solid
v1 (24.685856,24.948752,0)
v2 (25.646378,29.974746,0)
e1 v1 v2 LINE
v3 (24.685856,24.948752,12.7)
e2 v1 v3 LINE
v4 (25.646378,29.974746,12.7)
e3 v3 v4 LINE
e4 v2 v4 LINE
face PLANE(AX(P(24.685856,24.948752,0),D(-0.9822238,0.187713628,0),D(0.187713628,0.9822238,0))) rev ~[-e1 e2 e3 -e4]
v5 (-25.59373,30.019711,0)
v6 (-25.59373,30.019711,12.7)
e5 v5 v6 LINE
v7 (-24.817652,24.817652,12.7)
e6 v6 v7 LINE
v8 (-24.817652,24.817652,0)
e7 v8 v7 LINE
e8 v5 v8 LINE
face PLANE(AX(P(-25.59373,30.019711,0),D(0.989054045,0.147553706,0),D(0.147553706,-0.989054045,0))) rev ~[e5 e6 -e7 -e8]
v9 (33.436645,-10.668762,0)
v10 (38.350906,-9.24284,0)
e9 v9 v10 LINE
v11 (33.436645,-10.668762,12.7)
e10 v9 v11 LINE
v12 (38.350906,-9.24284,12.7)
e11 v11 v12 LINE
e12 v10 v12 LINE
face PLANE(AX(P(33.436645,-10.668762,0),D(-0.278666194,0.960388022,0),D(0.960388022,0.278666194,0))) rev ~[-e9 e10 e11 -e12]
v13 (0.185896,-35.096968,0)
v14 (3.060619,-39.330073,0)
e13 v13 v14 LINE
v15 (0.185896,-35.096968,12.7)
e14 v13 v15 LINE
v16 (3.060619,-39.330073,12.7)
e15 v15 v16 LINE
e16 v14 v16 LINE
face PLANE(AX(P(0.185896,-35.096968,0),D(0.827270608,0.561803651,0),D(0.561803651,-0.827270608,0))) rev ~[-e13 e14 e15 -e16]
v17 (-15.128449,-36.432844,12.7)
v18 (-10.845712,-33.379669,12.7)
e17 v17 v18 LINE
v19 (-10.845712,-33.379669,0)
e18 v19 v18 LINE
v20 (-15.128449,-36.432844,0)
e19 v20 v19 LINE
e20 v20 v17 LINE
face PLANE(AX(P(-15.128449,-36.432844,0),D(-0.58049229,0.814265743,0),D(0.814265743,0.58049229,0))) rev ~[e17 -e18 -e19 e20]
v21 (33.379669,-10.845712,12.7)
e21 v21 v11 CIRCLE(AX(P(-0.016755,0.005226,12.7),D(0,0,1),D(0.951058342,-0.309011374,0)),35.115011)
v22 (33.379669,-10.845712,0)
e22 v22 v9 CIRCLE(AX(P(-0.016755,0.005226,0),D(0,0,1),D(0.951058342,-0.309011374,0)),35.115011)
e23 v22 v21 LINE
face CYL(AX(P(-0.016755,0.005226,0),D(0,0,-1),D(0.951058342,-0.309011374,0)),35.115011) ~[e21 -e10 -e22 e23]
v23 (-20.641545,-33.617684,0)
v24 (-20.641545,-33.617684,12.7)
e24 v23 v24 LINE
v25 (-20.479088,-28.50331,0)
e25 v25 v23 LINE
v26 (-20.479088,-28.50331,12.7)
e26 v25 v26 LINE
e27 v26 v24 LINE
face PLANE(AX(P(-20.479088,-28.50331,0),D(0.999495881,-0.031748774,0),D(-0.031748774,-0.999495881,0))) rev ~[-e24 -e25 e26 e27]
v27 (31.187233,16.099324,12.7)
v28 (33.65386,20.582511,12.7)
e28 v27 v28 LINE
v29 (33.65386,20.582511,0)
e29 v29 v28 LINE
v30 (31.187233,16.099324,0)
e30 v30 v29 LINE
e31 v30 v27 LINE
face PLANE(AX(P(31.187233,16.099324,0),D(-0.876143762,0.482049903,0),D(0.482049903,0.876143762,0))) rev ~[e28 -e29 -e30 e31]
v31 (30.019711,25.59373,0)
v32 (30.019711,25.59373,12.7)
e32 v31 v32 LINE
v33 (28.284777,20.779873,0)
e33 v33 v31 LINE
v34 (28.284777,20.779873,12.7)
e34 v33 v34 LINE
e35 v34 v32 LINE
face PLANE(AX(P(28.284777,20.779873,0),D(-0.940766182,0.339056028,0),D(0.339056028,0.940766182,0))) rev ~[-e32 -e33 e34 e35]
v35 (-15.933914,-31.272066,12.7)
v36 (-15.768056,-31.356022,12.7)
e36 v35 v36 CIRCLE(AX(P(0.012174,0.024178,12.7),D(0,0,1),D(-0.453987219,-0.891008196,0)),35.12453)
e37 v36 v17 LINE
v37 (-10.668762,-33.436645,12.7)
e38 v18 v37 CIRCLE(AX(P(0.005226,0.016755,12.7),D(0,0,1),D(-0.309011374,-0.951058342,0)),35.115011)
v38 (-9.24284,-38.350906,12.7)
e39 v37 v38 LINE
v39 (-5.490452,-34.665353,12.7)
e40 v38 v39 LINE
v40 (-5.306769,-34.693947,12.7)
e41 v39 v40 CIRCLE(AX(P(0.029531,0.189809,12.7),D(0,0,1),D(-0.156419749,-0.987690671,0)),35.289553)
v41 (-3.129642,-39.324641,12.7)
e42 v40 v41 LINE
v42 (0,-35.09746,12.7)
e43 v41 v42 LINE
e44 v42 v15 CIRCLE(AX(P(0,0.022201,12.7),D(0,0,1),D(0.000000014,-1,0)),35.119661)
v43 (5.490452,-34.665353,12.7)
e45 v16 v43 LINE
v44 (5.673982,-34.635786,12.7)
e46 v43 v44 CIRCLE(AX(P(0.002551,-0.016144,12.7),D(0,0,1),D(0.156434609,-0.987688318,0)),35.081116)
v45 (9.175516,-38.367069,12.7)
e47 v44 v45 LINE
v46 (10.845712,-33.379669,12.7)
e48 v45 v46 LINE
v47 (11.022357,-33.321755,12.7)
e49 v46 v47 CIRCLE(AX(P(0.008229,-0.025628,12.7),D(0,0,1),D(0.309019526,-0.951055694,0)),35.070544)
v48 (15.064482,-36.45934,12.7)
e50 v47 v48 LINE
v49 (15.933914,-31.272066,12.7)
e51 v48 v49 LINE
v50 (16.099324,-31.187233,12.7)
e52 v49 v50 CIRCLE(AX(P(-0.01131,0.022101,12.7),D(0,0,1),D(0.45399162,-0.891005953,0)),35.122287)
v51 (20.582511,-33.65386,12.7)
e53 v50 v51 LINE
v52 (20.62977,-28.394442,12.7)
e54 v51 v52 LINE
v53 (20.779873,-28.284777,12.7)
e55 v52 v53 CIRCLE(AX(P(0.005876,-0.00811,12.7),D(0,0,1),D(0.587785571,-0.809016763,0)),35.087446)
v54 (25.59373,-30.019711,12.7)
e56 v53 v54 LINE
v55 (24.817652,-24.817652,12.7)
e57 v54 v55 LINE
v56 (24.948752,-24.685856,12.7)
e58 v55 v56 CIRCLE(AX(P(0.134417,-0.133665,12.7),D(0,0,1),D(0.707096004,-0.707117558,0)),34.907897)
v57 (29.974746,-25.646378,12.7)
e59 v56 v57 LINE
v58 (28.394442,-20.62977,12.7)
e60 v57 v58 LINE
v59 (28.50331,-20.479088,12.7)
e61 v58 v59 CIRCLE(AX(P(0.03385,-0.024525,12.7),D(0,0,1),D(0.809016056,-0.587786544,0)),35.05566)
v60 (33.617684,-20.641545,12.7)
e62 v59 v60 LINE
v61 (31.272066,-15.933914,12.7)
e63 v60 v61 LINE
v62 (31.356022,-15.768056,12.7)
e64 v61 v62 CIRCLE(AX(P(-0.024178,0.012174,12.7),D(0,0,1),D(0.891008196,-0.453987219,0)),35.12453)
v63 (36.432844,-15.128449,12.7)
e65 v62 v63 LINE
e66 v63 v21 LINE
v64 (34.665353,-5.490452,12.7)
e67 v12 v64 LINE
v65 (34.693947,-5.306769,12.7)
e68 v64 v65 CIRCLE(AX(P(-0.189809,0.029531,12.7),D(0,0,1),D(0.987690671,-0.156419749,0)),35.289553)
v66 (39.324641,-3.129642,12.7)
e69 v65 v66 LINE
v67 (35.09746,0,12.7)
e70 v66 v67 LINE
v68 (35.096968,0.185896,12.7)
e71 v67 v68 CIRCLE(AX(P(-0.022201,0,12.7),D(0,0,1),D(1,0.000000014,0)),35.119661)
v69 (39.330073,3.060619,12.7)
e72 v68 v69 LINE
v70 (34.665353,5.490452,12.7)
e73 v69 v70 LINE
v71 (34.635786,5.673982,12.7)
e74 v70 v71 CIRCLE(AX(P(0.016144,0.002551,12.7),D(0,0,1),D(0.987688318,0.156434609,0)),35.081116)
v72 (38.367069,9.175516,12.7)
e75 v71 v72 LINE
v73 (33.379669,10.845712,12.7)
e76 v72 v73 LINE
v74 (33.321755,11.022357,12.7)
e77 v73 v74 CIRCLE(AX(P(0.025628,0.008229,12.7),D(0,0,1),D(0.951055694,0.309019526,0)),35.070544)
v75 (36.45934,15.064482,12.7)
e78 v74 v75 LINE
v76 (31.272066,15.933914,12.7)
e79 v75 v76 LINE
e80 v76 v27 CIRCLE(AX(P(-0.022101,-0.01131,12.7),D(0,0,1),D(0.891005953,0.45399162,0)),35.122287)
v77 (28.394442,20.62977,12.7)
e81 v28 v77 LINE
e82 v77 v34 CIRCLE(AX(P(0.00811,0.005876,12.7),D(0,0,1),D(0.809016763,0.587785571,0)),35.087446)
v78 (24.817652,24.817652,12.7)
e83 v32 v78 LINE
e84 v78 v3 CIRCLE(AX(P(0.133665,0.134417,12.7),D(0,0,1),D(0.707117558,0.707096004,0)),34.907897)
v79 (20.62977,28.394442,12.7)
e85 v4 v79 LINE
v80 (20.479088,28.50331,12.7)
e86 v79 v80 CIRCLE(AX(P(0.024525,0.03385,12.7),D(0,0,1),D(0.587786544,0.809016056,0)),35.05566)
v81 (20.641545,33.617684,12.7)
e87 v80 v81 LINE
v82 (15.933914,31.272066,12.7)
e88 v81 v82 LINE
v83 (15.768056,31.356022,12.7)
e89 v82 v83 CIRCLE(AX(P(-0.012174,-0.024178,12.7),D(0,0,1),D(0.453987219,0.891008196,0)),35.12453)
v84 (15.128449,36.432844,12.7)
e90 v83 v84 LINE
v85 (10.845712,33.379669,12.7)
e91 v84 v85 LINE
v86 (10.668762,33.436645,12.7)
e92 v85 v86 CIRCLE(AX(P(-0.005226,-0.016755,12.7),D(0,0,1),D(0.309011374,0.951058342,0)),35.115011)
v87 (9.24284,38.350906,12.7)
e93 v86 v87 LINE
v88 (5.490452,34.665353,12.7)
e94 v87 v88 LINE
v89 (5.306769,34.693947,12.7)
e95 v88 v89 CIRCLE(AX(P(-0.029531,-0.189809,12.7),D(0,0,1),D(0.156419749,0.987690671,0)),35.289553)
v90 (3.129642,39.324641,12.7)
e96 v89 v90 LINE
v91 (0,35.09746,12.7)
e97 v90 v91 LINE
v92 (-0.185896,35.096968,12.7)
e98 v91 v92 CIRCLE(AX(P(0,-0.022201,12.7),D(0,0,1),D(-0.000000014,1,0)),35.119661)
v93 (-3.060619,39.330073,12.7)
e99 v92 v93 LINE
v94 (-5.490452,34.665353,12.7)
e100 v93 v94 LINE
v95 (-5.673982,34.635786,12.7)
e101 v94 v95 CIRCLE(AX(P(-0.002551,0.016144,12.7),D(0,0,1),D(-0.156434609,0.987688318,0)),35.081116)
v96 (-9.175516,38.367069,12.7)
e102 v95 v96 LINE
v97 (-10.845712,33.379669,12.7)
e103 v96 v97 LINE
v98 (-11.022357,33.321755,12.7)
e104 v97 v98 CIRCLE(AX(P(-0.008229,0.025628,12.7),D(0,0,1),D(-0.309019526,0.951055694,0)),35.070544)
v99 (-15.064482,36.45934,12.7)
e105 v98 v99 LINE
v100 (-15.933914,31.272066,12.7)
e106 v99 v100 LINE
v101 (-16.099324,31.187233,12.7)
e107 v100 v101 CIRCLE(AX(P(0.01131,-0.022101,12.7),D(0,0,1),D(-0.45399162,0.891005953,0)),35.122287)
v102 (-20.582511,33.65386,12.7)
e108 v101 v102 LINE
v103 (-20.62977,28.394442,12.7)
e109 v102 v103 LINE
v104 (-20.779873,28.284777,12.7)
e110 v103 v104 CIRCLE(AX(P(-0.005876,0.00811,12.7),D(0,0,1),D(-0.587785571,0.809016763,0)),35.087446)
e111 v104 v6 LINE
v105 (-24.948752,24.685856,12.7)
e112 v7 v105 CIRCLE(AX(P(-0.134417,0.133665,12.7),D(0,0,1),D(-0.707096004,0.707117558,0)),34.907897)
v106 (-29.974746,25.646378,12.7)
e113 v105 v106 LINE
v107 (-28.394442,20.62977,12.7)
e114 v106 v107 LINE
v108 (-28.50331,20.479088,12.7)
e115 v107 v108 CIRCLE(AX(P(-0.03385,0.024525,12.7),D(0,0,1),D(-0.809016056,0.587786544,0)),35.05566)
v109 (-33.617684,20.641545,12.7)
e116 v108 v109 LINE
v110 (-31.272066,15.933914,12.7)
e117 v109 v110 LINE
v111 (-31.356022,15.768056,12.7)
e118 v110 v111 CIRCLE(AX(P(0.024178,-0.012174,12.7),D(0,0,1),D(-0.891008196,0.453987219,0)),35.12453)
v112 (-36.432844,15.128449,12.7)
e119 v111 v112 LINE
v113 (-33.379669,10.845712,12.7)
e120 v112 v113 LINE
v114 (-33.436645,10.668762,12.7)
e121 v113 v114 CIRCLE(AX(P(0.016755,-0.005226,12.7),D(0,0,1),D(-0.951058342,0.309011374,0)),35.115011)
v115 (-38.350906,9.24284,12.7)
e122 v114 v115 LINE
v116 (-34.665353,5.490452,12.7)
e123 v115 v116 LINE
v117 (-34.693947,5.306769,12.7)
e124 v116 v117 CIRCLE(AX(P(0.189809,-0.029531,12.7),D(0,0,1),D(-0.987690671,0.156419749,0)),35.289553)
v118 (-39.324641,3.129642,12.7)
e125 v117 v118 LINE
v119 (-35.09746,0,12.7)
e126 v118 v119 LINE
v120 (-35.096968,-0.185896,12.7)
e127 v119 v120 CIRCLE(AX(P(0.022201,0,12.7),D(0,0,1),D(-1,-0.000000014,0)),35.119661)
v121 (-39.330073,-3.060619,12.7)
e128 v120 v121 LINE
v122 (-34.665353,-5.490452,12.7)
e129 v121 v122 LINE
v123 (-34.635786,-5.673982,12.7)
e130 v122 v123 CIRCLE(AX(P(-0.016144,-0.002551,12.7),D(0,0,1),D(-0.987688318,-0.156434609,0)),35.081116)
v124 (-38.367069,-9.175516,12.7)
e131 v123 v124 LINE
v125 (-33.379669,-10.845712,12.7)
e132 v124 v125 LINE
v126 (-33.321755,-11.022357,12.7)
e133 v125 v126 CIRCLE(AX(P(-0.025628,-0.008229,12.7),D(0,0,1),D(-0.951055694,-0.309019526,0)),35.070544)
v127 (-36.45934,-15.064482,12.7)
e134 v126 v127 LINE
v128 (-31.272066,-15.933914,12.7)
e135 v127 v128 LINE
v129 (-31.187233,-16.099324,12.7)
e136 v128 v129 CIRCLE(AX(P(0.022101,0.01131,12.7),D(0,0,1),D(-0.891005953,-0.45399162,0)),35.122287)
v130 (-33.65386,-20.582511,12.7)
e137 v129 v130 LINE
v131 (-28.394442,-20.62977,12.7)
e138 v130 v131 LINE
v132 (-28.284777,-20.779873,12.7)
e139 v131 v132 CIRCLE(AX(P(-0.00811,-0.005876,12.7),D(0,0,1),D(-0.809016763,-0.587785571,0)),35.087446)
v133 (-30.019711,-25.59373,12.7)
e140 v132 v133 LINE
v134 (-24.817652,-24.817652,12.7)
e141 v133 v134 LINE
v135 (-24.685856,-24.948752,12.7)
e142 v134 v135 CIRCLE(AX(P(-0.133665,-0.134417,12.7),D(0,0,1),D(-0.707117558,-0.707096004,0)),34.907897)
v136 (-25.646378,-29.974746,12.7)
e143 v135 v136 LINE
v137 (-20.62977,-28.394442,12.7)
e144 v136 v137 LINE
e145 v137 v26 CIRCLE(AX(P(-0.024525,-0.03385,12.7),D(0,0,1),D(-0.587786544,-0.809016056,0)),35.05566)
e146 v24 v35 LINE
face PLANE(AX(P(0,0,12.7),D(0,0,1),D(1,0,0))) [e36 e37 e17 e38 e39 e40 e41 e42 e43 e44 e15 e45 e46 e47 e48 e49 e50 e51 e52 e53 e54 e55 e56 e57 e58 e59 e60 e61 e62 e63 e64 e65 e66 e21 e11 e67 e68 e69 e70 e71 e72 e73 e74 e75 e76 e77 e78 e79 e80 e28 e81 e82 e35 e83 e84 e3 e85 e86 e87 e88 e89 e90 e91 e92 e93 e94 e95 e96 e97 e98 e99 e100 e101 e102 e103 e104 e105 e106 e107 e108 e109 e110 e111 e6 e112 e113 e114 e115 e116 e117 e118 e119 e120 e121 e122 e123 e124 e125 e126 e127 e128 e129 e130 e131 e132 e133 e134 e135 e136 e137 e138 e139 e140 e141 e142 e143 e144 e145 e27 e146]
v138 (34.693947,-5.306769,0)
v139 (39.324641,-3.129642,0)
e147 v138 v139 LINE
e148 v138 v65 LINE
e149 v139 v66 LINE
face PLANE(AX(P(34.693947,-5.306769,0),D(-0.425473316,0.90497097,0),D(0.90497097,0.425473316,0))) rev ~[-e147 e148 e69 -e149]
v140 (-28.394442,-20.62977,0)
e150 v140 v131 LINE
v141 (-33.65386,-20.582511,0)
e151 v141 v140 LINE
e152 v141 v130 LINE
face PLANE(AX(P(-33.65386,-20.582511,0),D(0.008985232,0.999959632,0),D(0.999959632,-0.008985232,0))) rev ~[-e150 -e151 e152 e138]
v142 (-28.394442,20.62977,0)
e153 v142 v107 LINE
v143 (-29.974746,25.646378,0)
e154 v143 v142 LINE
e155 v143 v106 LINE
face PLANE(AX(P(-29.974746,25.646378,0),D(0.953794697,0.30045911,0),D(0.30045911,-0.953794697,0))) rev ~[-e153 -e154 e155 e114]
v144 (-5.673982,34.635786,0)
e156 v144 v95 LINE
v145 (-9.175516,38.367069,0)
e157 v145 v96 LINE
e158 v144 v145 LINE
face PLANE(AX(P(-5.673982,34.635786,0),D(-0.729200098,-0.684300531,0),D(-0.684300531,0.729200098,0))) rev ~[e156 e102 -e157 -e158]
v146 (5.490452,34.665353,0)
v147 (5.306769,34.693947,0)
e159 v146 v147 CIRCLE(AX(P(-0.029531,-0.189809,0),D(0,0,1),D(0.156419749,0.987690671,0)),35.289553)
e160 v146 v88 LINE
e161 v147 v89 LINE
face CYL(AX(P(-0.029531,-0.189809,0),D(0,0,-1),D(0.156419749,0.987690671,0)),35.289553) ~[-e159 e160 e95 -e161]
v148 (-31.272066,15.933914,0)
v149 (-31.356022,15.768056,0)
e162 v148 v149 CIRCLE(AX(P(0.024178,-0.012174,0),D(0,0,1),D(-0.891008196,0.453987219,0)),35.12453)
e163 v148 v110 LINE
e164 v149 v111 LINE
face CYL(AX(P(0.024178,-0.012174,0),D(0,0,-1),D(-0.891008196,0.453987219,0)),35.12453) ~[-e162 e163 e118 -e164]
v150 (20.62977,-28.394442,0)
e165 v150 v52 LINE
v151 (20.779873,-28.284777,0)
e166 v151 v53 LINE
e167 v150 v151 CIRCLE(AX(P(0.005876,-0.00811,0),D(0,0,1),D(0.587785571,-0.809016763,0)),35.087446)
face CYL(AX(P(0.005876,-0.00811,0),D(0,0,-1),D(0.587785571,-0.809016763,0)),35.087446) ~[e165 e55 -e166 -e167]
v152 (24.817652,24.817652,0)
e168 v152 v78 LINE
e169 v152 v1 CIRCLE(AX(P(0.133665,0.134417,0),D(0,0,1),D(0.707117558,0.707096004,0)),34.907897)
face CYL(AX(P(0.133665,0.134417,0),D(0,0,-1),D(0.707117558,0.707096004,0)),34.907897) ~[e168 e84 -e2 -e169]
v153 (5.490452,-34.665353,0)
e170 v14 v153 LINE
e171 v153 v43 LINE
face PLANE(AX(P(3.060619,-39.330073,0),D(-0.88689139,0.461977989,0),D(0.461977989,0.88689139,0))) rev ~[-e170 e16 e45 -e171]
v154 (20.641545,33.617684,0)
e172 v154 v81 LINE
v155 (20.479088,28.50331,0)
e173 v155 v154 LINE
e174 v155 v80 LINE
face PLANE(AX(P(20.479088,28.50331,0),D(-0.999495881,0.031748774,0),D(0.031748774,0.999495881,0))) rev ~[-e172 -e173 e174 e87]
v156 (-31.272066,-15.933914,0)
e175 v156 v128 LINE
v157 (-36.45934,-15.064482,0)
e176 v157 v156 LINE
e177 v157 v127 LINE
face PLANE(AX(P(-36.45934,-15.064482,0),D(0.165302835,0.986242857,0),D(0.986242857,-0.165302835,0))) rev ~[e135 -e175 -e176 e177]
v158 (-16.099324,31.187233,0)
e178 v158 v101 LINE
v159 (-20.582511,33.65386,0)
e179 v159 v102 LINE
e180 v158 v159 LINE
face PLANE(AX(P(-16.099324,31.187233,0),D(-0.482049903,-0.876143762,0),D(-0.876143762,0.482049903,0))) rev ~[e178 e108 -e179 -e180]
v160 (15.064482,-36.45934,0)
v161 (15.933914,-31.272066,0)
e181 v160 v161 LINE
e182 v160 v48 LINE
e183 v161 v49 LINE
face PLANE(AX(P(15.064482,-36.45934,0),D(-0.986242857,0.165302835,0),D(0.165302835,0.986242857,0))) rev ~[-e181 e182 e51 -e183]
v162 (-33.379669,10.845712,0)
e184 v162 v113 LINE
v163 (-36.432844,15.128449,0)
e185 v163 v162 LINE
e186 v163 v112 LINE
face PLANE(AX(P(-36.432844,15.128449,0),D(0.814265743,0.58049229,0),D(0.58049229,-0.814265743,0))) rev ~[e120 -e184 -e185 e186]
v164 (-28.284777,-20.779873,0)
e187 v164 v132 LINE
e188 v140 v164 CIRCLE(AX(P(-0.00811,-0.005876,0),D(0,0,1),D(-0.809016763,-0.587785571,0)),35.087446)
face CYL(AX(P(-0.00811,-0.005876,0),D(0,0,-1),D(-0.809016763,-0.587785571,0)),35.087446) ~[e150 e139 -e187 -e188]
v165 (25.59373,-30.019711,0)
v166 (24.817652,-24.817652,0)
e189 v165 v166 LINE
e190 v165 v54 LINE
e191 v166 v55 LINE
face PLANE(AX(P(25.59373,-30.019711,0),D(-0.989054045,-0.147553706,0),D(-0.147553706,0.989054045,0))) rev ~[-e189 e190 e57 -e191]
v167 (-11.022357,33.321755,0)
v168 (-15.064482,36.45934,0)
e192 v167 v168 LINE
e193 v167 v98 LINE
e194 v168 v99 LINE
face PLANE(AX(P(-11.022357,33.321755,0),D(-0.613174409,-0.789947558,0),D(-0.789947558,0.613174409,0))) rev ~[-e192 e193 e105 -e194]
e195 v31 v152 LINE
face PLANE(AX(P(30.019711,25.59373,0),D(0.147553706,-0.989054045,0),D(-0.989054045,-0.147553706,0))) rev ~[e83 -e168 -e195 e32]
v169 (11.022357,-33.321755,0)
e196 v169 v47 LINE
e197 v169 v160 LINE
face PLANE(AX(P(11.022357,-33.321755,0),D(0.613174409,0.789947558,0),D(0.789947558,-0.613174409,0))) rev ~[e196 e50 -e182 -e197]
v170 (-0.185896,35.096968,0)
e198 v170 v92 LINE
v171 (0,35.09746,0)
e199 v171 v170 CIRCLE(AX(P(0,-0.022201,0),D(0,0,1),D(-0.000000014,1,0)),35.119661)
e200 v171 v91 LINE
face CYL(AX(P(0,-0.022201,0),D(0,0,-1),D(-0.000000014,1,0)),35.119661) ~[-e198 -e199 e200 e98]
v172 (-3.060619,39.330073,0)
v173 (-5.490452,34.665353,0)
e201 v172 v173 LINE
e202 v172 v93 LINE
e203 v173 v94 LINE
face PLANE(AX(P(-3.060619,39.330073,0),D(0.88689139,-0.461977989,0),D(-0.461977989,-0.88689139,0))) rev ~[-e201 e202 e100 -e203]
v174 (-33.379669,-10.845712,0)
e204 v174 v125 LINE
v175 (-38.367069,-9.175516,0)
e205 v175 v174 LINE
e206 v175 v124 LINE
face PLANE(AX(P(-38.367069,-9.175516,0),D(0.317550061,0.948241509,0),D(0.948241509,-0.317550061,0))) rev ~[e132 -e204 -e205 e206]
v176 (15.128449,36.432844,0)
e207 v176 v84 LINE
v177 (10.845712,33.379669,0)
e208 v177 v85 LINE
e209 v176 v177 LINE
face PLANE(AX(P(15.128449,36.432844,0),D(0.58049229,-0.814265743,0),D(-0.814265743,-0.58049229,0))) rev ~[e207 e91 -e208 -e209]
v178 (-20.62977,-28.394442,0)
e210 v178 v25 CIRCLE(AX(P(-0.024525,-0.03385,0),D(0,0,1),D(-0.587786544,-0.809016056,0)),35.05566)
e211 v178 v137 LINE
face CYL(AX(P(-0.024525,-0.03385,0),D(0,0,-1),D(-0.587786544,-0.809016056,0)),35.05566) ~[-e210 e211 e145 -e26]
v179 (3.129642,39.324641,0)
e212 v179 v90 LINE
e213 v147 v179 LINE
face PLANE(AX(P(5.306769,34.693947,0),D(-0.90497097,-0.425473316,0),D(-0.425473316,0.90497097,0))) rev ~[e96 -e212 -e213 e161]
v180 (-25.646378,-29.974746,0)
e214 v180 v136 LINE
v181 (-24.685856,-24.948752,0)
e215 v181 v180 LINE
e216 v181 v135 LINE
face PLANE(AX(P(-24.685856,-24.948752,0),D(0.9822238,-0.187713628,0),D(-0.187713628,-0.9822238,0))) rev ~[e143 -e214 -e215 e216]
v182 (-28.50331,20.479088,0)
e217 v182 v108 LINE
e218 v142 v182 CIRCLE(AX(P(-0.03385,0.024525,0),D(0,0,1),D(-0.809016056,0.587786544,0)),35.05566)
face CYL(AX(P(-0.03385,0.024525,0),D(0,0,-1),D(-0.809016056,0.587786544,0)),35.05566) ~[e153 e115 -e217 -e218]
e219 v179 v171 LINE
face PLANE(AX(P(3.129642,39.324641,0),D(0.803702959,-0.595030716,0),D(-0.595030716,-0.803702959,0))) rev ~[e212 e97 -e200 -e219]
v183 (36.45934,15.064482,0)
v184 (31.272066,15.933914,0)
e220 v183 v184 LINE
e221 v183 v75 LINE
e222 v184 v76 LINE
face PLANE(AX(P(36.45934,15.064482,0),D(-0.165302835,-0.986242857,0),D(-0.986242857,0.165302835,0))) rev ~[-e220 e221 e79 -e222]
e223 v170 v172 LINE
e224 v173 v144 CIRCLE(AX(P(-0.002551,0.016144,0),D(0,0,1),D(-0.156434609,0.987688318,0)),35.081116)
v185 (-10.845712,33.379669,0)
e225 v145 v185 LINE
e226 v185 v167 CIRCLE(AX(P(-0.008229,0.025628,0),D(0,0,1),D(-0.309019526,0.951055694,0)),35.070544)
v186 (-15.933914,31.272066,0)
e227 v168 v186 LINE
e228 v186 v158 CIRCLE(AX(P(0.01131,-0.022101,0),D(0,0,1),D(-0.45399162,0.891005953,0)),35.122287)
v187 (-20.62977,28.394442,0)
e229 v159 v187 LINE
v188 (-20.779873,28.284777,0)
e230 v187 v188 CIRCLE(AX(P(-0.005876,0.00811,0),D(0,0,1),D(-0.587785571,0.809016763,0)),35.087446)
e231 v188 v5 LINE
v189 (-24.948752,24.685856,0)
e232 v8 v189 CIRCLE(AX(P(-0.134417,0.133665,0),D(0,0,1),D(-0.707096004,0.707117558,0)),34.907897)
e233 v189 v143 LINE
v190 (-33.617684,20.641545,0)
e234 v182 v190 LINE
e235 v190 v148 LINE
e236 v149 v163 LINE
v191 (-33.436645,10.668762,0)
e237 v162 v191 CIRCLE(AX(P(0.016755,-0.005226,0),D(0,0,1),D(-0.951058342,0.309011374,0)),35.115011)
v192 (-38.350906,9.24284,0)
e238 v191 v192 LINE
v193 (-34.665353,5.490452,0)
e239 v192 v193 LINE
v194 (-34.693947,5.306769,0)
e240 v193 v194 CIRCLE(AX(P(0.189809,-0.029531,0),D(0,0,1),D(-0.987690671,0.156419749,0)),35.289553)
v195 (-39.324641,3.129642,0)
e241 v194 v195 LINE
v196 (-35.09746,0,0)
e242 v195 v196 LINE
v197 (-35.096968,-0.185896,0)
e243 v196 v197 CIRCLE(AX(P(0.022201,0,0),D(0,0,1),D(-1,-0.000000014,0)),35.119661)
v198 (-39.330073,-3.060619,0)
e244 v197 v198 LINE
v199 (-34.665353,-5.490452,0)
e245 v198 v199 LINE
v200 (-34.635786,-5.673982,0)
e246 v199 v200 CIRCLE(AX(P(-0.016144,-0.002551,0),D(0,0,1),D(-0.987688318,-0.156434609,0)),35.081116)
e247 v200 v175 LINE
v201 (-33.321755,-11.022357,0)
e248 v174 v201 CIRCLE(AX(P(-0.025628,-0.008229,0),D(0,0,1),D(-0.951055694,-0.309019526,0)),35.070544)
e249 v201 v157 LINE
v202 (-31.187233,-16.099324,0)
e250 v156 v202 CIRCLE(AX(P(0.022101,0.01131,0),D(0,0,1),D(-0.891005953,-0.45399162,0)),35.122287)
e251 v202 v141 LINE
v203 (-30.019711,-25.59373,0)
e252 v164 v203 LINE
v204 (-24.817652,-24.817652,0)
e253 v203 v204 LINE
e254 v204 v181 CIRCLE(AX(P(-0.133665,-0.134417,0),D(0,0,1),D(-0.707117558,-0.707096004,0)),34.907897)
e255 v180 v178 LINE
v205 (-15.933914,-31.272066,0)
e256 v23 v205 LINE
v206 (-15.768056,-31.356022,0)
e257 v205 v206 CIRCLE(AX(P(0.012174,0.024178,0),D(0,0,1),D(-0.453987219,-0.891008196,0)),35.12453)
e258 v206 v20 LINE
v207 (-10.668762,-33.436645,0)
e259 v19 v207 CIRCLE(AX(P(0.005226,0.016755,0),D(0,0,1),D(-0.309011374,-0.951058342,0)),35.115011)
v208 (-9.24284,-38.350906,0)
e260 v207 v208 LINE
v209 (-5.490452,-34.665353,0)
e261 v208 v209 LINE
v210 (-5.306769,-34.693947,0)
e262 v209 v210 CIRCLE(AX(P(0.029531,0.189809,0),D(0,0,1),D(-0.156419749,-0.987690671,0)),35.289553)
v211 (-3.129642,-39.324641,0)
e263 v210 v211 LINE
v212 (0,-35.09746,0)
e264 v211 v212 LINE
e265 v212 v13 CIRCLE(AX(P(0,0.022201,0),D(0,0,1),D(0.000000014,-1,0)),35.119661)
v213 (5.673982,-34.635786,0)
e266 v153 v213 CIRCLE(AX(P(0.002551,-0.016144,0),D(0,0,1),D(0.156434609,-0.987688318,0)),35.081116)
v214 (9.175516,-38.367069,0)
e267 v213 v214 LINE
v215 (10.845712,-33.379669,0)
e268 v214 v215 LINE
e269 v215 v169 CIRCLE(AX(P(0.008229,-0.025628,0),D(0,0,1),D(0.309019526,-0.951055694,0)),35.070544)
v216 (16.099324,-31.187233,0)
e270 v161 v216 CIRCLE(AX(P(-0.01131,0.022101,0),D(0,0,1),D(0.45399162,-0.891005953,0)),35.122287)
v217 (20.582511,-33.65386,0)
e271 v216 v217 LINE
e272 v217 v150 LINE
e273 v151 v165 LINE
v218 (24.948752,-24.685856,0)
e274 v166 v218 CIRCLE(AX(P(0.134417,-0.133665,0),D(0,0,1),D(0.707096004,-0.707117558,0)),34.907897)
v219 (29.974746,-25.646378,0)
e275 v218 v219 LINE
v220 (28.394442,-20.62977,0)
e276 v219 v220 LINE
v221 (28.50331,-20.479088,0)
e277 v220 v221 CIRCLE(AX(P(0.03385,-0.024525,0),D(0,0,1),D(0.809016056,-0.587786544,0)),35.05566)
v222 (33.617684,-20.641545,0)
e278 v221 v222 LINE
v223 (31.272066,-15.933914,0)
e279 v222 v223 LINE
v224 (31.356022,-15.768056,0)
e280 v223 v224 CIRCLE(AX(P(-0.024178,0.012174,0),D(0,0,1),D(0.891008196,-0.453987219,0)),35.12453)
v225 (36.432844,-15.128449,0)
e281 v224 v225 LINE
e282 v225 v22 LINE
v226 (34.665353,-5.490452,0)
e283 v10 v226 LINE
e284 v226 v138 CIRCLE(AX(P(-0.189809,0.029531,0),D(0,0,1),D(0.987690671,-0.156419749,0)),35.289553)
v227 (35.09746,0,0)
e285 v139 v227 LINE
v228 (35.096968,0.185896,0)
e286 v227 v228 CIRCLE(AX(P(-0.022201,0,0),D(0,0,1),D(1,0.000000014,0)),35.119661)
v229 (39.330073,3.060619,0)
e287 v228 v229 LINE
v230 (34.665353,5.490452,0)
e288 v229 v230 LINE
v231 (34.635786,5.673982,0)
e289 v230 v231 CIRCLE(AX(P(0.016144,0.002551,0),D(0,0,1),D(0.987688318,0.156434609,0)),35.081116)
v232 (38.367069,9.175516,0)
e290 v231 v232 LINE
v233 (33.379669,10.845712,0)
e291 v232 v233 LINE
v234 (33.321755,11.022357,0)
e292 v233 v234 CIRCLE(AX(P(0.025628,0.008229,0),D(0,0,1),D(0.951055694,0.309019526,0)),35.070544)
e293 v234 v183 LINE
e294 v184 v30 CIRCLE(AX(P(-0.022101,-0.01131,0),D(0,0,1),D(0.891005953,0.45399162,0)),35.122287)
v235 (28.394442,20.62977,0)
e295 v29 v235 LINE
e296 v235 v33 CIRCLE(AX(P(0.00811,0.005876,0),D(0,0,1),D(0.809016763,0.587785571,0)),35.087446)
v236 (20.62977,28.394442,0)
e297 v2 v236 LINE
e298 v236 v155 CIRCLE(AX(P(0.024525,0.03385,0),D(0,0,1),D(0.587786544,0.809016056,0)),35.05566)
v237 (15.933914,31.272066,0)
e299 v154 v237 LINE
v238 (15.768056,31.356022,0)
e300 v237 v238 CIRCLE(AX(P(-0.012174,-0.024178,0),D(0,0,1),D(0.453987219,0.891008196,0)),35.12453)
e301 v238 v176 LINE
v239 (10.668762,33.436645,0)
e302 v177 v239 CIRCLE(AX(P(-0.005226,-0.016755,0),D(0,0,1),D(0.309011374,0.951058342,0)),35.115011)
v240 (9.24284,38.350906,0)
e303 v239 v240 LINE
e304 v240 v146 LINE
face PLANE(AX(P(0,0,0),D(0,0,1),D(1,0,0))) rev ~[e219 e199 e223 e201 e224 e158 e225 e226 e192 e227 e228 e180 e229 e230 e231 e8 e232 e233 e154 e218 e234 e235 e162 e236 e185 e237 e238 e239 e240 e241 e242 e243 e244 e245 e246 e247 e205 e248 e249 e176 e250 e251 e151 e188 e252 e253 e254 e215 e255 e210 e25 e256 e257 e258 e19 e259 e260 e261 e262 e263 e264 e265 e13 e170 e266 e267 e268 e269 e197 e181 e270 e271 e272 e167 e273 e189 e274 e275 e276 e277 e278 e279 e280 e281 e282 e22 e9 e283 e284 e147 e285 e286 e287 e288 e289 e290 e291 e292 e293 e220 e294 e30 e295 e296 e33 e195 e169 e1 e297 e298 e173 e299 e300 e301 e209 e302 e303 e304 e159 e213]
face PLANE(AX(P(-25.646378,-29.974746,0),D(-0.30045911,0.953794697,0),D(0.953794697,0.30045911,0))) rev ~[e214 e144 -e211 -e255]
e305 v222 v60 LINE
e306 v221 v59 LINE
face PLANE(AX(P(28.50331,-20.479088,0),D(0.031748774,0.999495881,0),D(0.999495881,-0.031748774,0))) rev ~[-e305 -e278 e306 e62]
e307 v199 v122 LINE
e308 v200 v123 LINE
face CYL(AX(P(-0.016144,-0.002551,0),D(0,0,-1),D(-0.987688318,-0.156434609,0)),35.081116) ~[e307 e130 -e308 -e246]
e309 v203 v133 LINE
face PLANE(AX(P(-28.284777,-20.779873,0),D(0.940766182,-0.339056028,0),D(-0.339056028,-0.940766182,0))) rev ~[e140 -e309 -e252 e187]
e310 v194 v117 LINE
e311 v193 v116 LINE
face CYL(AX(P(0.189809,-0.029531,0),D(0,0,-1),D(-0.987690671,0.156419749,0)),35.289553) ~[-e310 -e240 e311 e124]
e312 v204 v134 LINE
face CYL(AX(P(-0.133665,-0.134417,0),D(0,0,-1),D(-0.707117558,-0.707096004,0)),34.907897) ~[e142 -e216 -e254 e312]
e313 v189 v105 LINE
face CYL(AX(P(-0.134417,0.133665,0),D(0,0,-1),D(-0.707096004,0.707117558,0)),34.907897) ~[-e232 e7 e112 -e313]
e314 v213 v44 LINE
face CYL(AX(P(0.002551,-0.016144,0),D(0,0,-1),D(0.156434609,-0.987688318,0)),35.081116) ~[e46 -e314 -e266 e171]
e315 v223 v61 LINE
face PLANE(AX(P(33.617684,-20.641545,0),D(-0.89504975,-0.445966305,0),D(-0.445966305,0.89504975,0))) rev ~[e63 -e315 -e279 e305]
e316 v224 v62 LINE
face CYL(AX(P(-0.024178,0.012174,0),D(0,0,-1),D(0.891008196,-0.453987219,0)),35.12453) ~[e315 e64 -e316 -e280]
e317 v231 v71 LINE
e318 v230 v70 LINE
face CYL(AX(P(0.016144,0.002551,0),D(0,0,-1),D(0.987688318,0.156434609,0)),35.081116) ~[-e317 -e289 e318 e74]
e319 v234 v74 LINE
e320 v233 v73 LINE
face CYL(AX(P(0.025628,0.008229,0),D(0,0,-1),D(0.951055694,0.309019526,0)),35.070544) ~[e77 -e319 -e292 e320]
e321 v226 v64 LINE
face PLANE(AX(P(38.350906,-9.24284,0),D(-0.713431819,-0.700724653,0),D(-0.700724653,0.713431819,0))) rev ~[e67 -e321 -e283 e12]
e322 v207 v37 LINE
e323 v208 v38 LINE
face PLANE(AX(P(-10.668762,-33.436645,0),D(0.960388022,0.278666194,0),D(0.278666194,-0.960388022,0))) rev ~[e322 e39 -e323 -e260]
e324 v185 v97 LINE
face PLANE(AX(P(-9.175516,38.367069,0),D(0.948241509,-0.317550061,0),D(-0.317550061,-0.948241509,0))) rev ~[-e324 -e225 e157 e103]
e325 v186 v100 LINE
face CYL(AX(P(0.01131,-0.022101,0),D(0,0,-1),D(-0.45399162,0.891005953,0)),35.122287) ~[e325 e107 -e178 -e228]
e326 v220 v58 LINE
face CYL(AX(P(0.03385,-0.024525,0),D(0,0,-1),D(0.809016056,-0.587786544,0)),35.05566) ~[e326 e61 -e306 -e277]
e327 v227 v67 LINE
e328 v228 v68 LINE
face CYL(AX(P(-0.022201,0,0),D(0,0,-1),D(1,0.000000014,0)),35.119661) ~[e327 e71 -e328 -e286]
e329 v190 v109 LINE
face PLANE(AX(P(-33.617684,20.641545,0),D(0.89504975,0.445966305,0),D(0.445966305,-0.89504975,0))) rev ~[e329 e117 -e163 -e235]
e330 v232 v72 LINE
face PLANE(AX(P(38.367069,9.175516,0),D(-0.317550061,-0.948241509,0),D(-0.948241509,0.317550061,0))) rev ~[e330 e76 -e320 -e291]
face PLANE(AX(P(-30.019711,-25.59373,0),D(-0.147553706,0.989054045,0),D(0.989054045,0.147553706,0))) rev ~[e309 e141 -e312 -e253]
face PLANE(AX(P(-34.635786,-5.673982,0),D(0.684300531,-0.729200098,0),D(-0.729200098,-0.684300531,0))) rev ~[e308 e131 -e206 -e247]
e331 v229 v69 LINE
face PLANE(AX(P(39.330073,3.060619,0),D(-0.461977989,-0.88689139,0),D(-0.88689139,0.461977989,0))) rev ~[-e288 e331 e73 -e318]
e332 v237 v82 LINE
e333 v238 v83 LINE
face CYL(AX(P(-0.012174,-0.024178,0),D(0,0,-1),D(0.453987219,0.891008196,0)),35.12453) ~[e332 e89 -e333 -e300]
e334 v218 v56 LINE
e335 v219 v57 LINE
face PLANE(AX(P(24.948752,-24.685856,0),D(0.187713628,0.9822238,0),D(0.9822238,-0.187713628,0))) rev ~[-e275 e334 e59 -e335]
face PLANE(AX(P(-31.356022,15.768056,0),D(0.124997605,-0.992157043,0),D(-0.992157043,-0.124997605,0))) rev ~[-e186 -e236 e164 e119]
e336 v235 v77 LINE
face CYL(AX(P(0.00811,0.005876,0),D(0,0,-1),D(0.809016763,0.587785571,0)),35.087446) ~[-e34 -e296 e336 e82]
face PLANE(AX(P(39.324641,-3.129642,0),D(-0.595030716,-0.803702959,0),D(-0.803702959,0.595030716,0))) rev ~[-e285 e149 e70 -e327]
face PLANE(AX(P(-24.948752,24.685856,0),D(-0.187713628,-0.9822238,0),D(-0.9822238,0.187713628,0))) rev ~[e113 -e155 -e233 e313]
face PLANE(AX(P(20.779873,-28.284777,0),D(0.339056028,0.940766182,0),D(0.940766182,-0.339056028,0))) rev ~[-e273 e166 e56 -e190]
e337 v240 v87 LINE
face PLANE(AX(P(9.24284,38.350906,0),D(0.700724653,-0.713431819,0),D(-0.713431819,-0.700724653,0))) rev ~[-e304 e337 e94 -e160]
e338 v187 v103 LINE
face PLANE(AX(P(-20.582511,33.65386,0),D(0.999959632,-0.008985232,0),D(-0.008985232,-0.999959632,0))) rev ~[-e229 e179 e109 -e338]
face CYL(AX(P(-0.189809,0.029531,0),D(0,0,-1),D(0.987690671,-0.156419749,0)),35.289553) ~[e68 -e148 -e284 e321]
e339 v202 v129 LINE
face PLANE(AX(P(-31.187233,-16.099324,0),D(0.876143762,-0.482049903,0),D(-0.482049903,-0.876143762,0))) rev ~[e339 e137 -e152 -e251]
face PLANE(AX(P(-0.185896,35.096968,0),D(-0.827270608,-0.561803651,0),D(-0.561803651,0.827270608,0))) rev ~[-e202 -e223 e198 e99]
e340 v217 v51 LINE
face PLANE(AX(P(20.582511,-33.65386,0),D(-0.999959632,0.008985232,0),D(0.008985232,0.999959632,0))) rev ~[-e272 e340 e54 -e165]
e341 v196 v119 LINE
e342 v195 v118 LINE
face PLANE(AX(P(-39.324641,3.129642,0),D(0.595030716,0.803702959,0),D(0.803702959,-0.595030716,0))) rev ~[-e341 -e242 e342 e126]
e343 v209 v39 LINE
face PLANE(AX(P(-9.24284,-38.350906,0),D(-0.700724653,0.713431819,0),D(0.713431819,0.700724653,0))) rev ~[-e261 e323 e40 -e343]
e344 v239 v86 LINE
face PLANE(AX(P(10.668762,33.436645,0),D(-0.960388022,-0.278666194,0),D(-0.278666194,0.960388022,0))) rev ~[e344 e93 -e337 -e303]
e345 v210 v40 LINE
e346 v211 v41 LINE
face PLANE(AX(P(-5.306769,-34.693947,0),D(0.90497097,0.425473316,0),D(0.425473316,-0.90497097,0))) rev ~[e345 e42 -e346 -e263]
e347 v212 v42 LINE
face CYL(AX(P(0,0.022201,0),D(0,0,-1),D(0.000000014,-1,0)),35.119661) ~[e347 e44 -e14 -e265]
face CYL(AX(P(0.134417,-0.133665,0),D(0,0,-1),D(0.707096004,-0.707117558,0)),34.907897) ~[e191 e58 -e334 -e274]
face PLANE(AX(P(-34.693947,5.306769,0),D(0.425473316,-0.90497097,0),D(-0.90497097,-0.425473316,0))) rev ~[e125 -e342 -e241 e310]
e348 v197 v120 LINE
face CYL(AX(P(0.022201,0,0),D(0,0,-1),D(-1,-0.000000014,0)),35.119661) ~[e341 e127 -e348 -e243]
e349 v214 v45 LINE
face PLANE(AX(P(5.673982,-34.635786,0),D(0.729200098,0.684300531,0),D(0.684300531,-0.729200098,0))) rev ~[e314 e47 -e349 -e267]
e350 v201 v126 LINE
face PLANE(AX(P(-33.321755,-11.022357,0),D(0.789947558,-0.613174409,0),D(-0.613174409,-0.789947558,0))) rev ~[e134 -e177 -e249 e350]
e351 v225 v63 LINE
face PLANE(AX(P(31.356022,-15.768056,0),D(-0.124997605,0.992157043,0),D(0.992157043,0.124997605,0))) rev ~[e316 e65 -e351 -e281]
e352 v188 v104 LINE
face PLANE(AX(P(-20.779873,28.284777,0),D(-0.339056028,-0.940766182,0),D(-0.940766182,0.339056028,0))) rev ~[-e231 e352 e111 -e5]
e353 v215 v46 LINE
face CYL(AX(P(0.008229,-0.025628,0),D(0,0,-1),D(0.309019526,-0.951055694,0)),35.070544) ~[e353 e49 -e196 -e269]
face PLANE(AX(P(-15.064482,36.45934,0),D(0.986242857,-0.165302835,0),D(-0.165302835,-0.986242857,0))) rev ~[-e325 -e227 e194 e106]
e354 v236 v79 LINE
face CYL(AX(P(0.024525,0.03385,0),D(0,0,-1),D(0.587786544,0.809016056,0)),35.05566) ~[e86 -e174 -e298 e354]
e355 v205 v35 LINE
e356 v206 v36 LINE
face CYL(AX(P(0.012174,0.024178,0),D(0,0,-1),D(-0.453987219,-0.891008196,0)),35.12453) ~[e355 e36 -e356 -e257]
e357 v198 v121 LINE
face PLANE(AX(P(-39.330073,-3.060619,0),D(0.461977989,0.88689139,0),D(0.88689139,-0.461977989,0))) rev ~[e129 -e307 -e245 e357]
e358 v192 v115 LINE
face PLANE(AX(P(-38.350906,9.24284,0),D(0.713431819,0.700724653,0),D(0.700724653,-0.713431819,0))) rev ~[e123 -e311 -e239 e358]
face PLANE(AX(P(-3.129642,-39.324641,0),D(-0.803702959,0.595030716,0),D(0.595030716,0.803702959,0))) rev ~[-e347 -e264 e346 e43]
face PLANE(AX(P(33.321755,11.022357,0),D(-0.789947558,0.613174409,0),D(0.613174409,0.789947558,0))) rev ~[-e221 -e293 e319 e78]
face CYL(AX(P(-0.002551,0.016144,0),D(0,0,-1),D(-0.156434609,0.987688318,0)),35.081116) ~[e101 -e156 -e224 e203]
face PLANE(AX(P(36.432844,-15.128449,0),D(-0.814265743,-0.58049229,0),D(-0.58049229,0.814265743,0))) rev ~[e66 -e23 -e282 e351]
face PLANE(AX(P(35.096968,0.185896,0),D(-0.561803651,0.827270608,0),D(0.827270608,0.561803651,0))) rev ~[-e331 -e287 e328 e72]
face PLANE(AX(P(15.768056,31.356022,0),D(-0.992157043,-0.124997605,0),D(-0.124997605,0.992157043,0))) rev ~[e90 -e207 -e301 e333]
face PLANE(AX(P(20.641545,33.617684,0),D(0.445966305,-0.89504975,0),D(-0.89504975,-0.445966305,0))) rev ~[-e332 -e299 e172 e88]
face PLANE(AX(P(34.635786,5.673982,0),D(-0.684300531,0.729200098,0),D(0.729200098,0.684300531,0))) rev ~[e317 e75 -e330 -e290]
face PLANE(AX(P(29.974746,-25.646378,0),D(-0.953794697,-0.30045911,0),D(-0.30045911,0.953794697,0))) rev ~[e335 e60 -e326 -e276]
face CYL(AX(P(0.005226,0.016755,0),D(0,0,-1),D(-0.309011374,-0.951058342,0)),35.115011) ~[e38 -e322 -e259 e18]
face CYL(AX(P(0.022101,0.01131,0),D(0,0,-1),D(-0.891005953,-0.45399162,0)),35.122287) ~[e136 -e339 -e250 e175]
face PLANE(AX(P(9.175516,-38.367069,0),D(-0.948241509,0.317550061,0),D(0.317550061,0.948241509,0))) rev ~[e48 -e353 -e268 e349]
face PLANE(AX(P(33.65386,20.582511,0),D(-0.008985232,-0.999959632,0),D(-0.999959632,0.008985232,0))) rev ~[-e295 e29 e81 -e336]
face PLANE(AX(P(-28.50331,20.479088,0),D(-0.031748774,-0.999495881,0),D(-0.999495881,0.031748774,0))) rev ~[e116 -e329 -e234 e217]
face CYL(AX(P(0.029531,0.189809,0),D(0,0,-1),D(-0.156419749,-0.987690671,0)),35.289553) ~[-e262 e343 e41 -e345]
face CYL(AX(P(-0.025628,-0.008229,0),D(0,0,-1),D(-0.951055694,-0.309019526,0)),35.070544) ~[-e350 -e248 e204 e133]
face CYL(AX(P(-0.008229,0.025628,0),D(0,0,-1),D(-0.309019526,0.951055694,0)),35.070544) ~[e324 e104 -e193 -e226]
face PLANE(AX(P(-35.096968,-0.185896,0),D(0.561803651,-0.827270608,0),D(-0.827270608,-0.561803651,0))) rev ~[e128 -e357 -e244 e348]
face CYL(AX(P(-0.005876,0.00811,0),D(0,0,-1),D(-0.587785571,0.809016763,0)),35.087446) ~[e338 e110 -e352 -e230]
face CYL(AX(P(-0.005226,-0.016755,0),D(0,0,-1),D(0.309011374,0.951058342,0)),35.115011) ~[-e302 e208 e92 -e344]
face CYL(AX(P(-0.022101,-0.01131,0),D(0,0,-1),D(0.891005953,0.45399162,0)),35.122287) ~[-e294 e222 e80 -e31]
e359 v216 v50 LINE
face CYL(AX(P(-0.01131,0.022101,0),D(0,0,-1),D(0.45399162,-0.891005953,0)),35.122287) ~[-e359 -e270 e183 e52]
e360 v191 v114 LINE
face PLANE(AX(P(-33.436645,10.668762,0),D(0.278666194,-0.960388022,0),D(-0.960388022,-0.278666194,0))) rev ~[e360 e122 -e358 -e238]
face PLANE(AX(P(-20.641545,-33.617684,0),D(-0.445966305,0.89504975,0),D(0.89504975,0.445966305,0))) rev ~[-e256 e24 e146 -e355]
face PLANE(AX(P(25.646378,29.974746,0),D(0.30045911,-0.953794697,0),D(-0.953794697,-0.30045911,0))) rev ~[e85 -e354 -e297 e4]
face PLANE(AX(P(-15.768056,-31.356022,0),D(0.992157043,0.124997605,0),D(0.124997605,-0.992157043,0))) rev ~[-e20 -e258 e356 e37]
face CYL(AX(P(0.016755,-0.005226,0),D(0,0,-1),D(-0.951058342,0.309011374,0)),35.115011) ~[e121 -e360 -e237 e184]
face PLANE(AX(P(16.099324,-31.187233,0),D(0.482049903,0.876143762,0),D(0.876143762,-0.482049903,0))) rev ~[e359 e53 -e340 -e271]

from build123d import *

# Parameters (mm, degrees)
F1_DEPTH = 12.7


with BuildPart() as f1:
    # F0 (on Top) → F1 (new body)
    with BuildSketch(Plane.XY):
        with BuildLine():
            ThreePointArc((34.693947, -5.306769), (34.996437, -2.661044), (35.09746, 0))
            ThreePointArc((35.09746, 0), (35.097337, 0.092948), (35.096968, 0.185896))
            ThreePointArc((35.096968, 0.185896), (34.981851, 2.846367), (34.665353, 5.490452))
            ThreePointArc((34.665353, 5.490452), (34.650691, 5.582237), (34.635786, 5.673982))
            ThreePointArc((34.635786, 5.673982), (34.105897, 8.283691), (33.379669, 10.845712))
            ThreePointArc((33.379669, 10.845712), (33.350829, 10.934073), (33.321755, 11.022357))
            ThreePointArc((33.321755, 11.022357), (32.390142, 13.517042), (31.272066, 15.933914))
            ThreePointArc((31.272066, 15.933914), (31.229759, 16.016675), (31.187233, 16.099324))
            ThreePointArc((31.187233, 16.099324), (29.876834, 18.41756), (28.394442, 20.62977))
            ThreePointArc((28.394442, 20.62977), (28.339709, 20.704894), (28.284777, 20.779873))
            ThreePointArc((28.284777, 20.779873), (26.62786, 22.864576), (24.817652, 24.817652))
            ThreePointArc((24.817652, 24.817652), (24.751841, 24.88329), (24.685856, 24.948752))
            ThreePointArc((24.685856, 24.948752), (22.723219, 26.74859), (20.62977, 28.394442))
            ThreePointArc((20.62977, 28.394442), (20.554501, 28.448976), (20.479088, 28.50331))
            ThreePointArc((20.479088, 28.50331), (18.259057, 29.973965), (15.933914, 31.272066))
            ThreePointArc((15.933914, 31.272066), (15.85104, 31.314154), (15.768056, 31.356022))
            ThreePointArc((15.768056, 31.356022), (13.345297, 32.461281), (10.845712, 33.379669))
            ThreePointArc((10.845712, 33.379669), (10.757275, 33.408274), (10.668762, 33.436645))
            ThreePointArc((10.668762, 33.436645), (8.102931, 34.149293), (5.490452, 34.665353))
            ThreePointArc((5.490452, 34.665353), (5.398629, 34.679771), (5.306769, 34.693947))
            ThreePointArc((5.306769, 34.693947), (2.661044, 34.996437), (0, 35.09746))
            ThreePointArc((0, 35.09746), (-0.092948, 35.097337), (-0.185896, 35.096968))
            ThreePointArc((-0.185896, 35.096968), (-2.846367, 34.981851), (-5.490452, 34.665353))
            ThreePointArc((-5.490452, 34.665353), (-5.582237, 34.650691), (-5.673982, 34.635786))
            ThreePointArc((-5.673982, 34.635786), (-8.283691, 34.105897), (-10.845712, 33.379669))
            ThreePointArc((-10.845712, 33.379669), (-10.934073, 33.350829), (-11.022357, 33.321755))
            ThreePointArc((-11.022357, 33.321755), (-13.517042, 32.390142), (-15.933914, 31.272066))
            ThreePointArc((-15.933914, 31.272066), (-16.016675, 31.229759), (-16.099324, 31.187233))
            ThreePointArc((-16.099324, 31.187233), (-18.41756, 29.876834), (-20.62977, 28.394442))
            ThreePointArc((-20.62977, 28.394442), (-20.704894, 28.339709), (-20.779873, 28.284777))
            ThreePointArc((-20.779873, 28.284777), (-22.864576, 26.62786), (-24.817652, 24.817652))
            ThreePointArc((-24.817652, 24.817652), (-24.88329, 24.751841), (-24.948752, 24.685856))
            ThreePointArc((-24.948752, 24.685856), (-26.74859, 22.723219), (-28.394442, 20.62977))
            ThreePointArc((-28.394442, 20.62977), (-28.448976, 20.554501), (-28.50331, 20.479088))
            ThreePointArc((-28.50331, 20.479088), (-29.973965, 18.259057), (-31.272066, 15.933914))
            ThreePointArc((-31.272066, 15.933914), (-31.314154, 15.85104), (-31.356022, 15.768056))
            ThreePointArc((-31.356022, 15.768056), (-32.461281, 13.345297), (-33.379669, 10.845712))
            ThreePointArc((-33.379669, 10.845712), (-33.408274, 10.757275), (-33.436645, 10.668762))
            ThreePointArc((-33.436645, 10.668762), (-34.149293, 8.102931), (-34.665353, 5.490452))
            ThreePointArc((-34.665353, 5.490452), (-34.679771, 5.398629), (-34.693947, 5.306769))
            ThreePointArc((-34.693947, 5.306769), (-34.996437, 2.661044), (-35.09746, 0))
            ThreePointArc((-35.09746, 0), (-35.097337, -0.092948), (-35.096968, -0.185896))
            ThreePointArc((-35.096968, -0.185896), (-34.981851, -2.846367), (-34.665353, -5.490452))
            ThreePointArc((-34.665353, -5.490452), (-34.650691, -5.582237), (-34.635786, -5.673982))
            ThreePointArc((-34.635786, -5.673982), (-34.105897, -8.283691), (-33.379669, -10.845712))
            ThreePointArc((-33.379669, -10.845712), (-33.350829, -10.934073), (-33.321755, -11.022357))
            ThreePointArc((-33.321755, -11.022357), (-32.390142, -13.517042), (-31.272066, -15.933914))
            ThreePointArc((-31.272066, -15.933914), (-31.229759, -16.016675), (-31.187233, -16.099324))
            ThreePointArc((-31.187233, -16.099324), (-29.876834, -18.41756), (-28.394442, -20.62977))
            ThreePointArc((-28.394442, -20.62977), (-28.339709, -20.704894), (-28.284777, -20.779873))
            ThreePointArc((-28.284777, -20.779873), (-26.62786, -22.864576), (-24.817652, -24.817652))
            ThreePointArc((-24.817652, -24.817652), (-24.751841, -24.88329), (-24.685856, -24.948752))
            ThreePointArc((-24.685856, -24.948752), (-22.723219, -26.74859), (-20.62977, -28.394442))
            ThreePointArc((-20.62977, -28.394442), (-20.554501, -28.448976), (-20.479088, -28.50331))
            ThreePointArc((-20.479088, -28.50331), (-18.259057, -29.973965), (-15.933914, -31.272066))
            ThreePointArc((-15.933914, -31.272066), (-15.85104, -31.314154), (-15.768056, -31.356022))
            ThreePointArc((-15.768056, -31.356022), (-13.345297, -32.461281), (-10.845712, -33.379669))
            ThreePointArc((-10.845712, -33.379669), (-10.757275, -33.408274), (-10.668762, -33.436645))
            ThreePointArc((-10.668762, -33.436645), (-8.102931, -34.149293), (-5.490452, -34.665353))
            ThreePointArc((-5.490452, -34.665353), (-5.398629, -34.679771), (-5.306769, -34.693947))
            ThreePointArc((-5.306769, -34.693947), (-2.661044, -34.996437), (0, -35.09746))
            ThreePointArc((0, -35.09746), (0.092948, -35.097337), (0.185896, -35.096968))
            ThreePointArc((0.185896, -35.096968), (2.846367, -34.981851), (5.490452, -34.665353))
            ThreePointArc((5.490452, -34.665353), (5.582237, -34.650691), (5.673982, -34.635786))
            ThreePointArc((5.673982, -34.635786), (8.283691, -34.105897), (10.845712, -33.379669))
            ThreePointArc((10.845712, -33.379669), (10.934073, -33.350829), (11.022357, -33.321755))
            ThreePointArc((11.022357, -33.321755), (13.517042, -32.390142), (15.933914, -31.272066))
            ThreePointArc((15.933914, -31.272066), (16.016675, -31.229759), (16.099324, -31.187233))
            ThreePointArc((16.099324, -31.187233), (18.41756, -29.876834), (20.62977, -28.394442))
            ThreePointArc((20.62977, -28.394442), (20.704894, -28.339709), (20.779873, -28.284777))
            ThreePointArc((20.779873, -28.284777), (22.864576, -26.62786), (24.817652, -24.817652))
            ThreePointArc((24.817652, -24.817652), (24.88329, -24.751841), (24.948752, -24.685856))
            ThreePointArc((24.948752, -24.685856), (26.74859, -22.723219), (28.394442, -20.62977))
            ThreePointArc((28.394442, -20.62977), (28.448976, -20.554501), (28.50331, -20.479088))
            ThreePointArc((28.50331, -20.479088), (29.973965, -18.259057), (31.272066, -15.933914))
            ThreePointArc((31.272066, -15.933914), (31.314154, -15.85104), (31.356022, -15.768056))
            ThreePointArc((31.356022, -15.768056), (32.461281, -13.345297), (33.379669, -10.845712))
            ThreePointArc((33.379669, -10.845712), (33.408274, -10.757275), (33.436645, -10.668762))
            ThreePointArc((33.436645, -10.668762), (34.149293, -8.102931), (34.665353, -5.490452))
            ThreePointArc((34.665353, -5.490452), (34.679771, -5.398629), (34.693947, -5.306769))
        make_face()
        with BuildLine():
            Line((39.324641, -3.129642), (35.09746, 0))
            ThreePointArc((35.09746, 0), (34.996437, -2.661044), (34.693947, -5.306769))
            Line((34.693947, -5.306769), (39.324641, -3.129642))
        make_face()
        with BuildLine():
            ThreePointArc((34.665353, 5.490452), (34.981851, 2.846367), (35.096968, 0.185896))
            Line((35.096968, 0.185896), (39.330073, 3.060619))
            Line((39.330073, 3.060619), (34.665353, 5.490452))
        make_face()
        with BuildLine():
            Line((38.350906, -9.24284), (34.665353, -5.490452))
            ThreePointArc((34.665353, -5.490452), (34.149293, -8.102931), (33.436645, -10.668762))
            Line((33.436645, -10.668762), (38.350906, -9.24284))
        make_face()
        with BuildLine():
            ThreePointArc((33.379669, 10.845712), (34.105897, 8.283691), (34.635786, 5.673982))
            Line((34.635786, 5.673982), (38.367069, 9.175516))
            Line((38.367069, 9.175516), (33.379669, 10.845712))
        make_face()
        with BuildLine():
            Line((36.432844, -15.128449), (33.379669, -10.845712))
            ThreePointArc((33.379669, -10.845712), (32.461281, -13.345297), (31.356022, -15.768056))
            Line((31.356022, -15.768056), (36.432844, -15.128449))
        make_face()
        with BuildLine():
            ThreePointArc((31.272066, 15.933914), (32.390142, 13.517042), (33.321755, 11.022357))
            Line((33.321755, 11.022357), (36.45934, 15.064482))
            Line((36.45934, 15.064482), (31.272066, 15.933914))
        make_face()
        with BuildLine():
            Line((33.617684, -20.641545), (31.272066, -15.933914))
            ThreePointArc((31.272066, -15.933914), (29.973965, -18.259057), (28.50331, -20.479088))
            Line((28.50331, -20.479088), (33.617684, -20.641545))
        make_face()
        with BuildLine():
            ThreePointArc((28.394442, 20.62977), (29.876834, 18.41756), (31.187233, 16.099324))
            Line((31.187233, 16.099324), (33.65386, 20.582511))
            Line((33.65386, 20.582511), (28.394442, 20.62977))
        make_face()
        with BuildLine():
            Line((29.974746, -25.646378), (28.394442, -20.62977))
            ThreePointArc((28.394442, -20.62977), (26.74859, -22.723219), (24.948752, -24.685856))
            Line((24.948752, -24.685856), (29.974746, -25.646378))
        make_face()
        with BuildLine():
            ThreePointArc((24.817652, 24.817652), (26.62786, 22.864576), (28.284777, 20.779873))
            Line((28.284777, 20.779873), (30.019711, 25.59373))
            Line((30.019711, 25.59373), (24.817652, 24.817652))
        make_face()
        with BuildLine():
            Line((25.59373, -30.019711), (24.817652, -24.817652))
            ThreePointArc((24.817652, -24.817652), (22.864576, -26.62786), (20.779873, -28.284777))
            Line((20.779873, -28.284777), (25.59373, -30.019711))
        make_face()
        with BuildLine():
            ThreePointArc((20.62977, 28.394442), (22.723219, 26.74859), (24.685856, 24.948752))
            Line((24.685856, 24.948752), (25.646378, 29.974746))
            Line((25.646378, 29.974746), (20.62977, 28.394442))
        make_face()
        with BuildLine():
            Line((20.582511, -33.65386), (20.62977, -28.394442))
            ThreePointArc((20.62977, -28.394442), (18.41756, -29.876834), (16.099324, -31.187233))
            Line((16.099324, -31.187233), (20.582511, -33.65386))
        make_face()
        with BuildLine():
            ThreePointArc((15.933914, 31.272066), (18.259057, 29.973965), (20.479088, 28.50331))
            Line((20.479088, 28.50331), (20.641545, 33.617684))
            Line((20.641545, 33.617684), (15.933914, 31.272066))
        make_face()
        with BuildLine():
            Line((15.064482, -36.45934), (15.933914, -31.272066))
            ThreePointArc((15.933914, -31.272066), (13.517042, -32.390142), (11.022357, -33.321755))
            Line((11.022357, -33.321755), (15.064482, -36.45934))
        make_face()
        with BuildLine():
            ThreePointArc((10.845712, 33.379669), (13.345297, 32.461281), (15.768056, 31.356022))
            Line((15.768056, 31.356022), (15.128449, 36.432844))
            Line((15.128449, 36.432844), (10.845712, 33.379669))
        make_face()
        with BuildLine():
            Line((9.175516, -38.367069), (10.845712, -33.379669))
            ThreePointArc((10.845712, -33.379669), (8.283691, -34.105897), (5.673982, -34.635786))
            Line((5.673982, -34.635786), (9.175516, -38.367069))
        make_face()
        with BuildLine():
            ThreePointArc((5.490452, 34.665353), (8.102931, 34.149293), (10.668762, 33.436645))
            Line((10.668762, 33.436645), (9.24284, 38.350906))
            Line((9.24284, 38.350906), (5.490452, 34.665353))
        make_face()
        with BuildLine():
            Line((3.060619, -39.330073), (5.490452, -34.665353))
            ThreePointArc((5.490452, -34.665353), (2.846367, -34.981851), (0.185896, -35.096968))
            Line((0.185896, -35.096968), (3.060619, -39.330073))
        make_face()
        with BuildLine():
            ThreePointArc((0, 35.09746), (2.661044, 34.996437), (5.306769, 34.693947))
            Line((5.306769, 34.693947), (3.129642, 39.324641))
            Line((3.129642, 39.324641), (0, 35.09746))
        make_face()
        with BuildLine():
            Line((-3.129642, -39.324641), (0, -35.09746))
            ThreePointArc((0, -35.09746), (-2.661044, -34.996437), (-5.306769, -34.693947))
            Line((-5.306769, -34.693947), (-3.129642, -39.324641))
        make_face()
        with BuildLine():
            ThreePointArc((-5.490452, 34.665353), (-2.846367, 34.981851), (-0.185896, 35.096968))
            Line((-0.185896, 35.096968), (-3.060619, 39.330073))
            Line((-3.060619, 39.330073), (-5.490452, 34.665353))
        make_face()
        with BuildLine():
            Line((-9.24284, -38.350906), (-5.490452, -34.665353))
            ThreePointArc((-5.490452, -34.665353), (-8.102931, -34.149293), (-10.668762, -33.436645))
            Line((-10.668762, -33.436645), (-9.24284, -38.350906))
        make_face()
        with BuildLine():
            ThreePointArc((-10.845712, 33.379669), (-8.283691, 34.105897), (-5.673982, 34.635786))
            Line((-5.673982, 34.635786), (-9.175516, 38.367069))
            Line((-9.175516, 38.367069), (-10.845712, 33.379669))
        make_face()
        with BuildLine():
            Line((-15.128449, -36.432844), (-10.845712, -33.379669))
            ThreePointArc((-10.845712, -33.379669), (-13.345297, -32.461281), (-15.768056, -31.356022))
            Line((-15.768056, -31.356022), (-15.128449, -36.432844))
        make_face()
        with BuildLine():
            ThreePointArc((-15.933914, 31.272066), (-13.517042, 32.390142), (-11.022357, 33.321755))
            Line((-11.022357, 33.321755), (-15.064482, 36.45934))
            Line((-15.064482, 36.45934), (-15.933914, 31.272066))
        make_face()
        with BuildLine():
            Line((-20.641545, -33.617684), (-15.933914, -31.272066))
            ThreePointArc((-15.933914, -31.272066), (-18.259057, -29.973965), (-20.479088, -28.50331))
            Line((-20.479088, -28.50331), (-20.641545, -33.617684))
        make_face()
        with BuildLine():
            ThreePointArc((-20.62977, 28.394442), (-18.41756, 29.876834), (-16.099324, 31.187233))
            Line((-16.099324, 31.187233), (-20.582511, 33.65386))
            Line((-20.582511, 33.65386), (-20.62977, 28.394442))
        make_face()
        with BuildLine():
            Line((-25.646378, -29.974746), (-20.62977, -28.394442))
            ThreePointArc((-20.62977, -28.394442), (-22.723219, -26.74859), (-24.685856, -24.948752))
            Line((-24.685856, -24.948752), (-25.646378, -29.974746))
        make_face()
        with BuildLine():
            ThreePointArc((-24.817652, 24.817652), (-22.864576, 26.62786), (-20.779873, 28.284777))
            Line((-20.779873, 28.284777), (-25.59373, 30.019711))
            Line((-25.59373, 30.019711), (-24.817652, 24.817652))
        make_face()
        with BuildLine():
            Line((-30.019711, -25.59373), (-24.817652, -24.817652))
            ThreePointArc((-24.817652, -24.817652), (-26.62786, -22.864576), (-28.284777, -20.779873))
            Line((-28.284777, -20.779873), (-30.019711, -25.59373))
        make_face()
        with BuildLine():
            ThreePointArc((-28.394442, 20.62977), (-26.74859, 22.723219), (-24.948752, 24.685856))
            Line((-24.948752, 24.685856), (-29.974746, 25.646378))
            Line((-29.974746, 25.646378), (-28.394442, 20.62977))
        make_face()
        with BuildLine():
            Line((-33.65386, -20.582511), (-28.394442, -20.62977))
            ThreePointArc((-28.394442, -20.62977), (-29.876834, -18.41756), (-31.187233, -16.099324))
            Line((-31.187233, -16.099324), (-33.65386, -20.582511))
        make_face()
        with BuildLine():
            ThreePointArc((-31.272066, 15.933914), (-29.973965, 18.259057), (-28.50331, 20.479088))
            Line((-28.50331, 20.479088), (-33.617684, 20.641545))
            Line((-33.617684, 20.641545), (-31.272066, 15.933914))
        make_face()
        with BuildLine():
            Line((-36.45934, -15.064482), (-31.272066, -15.933914))
            ThreePointArc((-31.272066, -15.933914), (-32.390142, -13.517042), (-33.321755, -11.022357))
            Line((-33.321755, -11.022357), (-36.45934, -15.064482))
        make_face()
        with BuildLine():
            ThreePointArc((-33.379669, 10.845712), (-32.461281, 13.345297), (-31.356022, 15.768056))
            Line((-31.356022, 15.768056), (-36.432844, 15.128449))
            Line((-36.432844, 15.128449), (-33.379669, 10.845712))
        make_face()
        with BuildLine():
            Line((-38.367069, -9.175516), (-33.379669, -10.845712))
            ThreePointArc((-33.379669, -10.845712), (-34.105897, -8.283691), (-34.635786, -5.673982))
            Line((-34.635786, -5.673982), (-38.367069, -9.175516))
        make_face()
        with BuildLine():
            ThreePointArc((-34.665353, 5.490452), (-34.149293, 8.102931), (-33.436645, 10.668762))
            Line((-33.436645, 10.668762), (-38.350906, 9.24284))
            Line((-38.350906, 9.24284), (-34.665353, 5.490452))
        make_face()
        with BuildLine():
            Line((-39.330073, -3.060619), (-34.665353, -5.490452))
            ThreePointArc((-34.665353, -5.490452), (-34.981851, -2.846367), (-35.096968, -0.185896))
            Line((-35.096968, -0.185896), (-39.330073, -3.060619))
        make_face()
        with BuildLine():
            ThreePointArc((-35.09746, 0), (-34.996437, 2.661044), (-34.693947, 5.306769))
            Line((-34.693947, 5.306769), (-39.324641, 3.129642))
            Line((-39.324641, 3.129642), (-35.09746, 0))
        make_face()
    extrude(amount=F1_DEPTH)


solid = f1.part
